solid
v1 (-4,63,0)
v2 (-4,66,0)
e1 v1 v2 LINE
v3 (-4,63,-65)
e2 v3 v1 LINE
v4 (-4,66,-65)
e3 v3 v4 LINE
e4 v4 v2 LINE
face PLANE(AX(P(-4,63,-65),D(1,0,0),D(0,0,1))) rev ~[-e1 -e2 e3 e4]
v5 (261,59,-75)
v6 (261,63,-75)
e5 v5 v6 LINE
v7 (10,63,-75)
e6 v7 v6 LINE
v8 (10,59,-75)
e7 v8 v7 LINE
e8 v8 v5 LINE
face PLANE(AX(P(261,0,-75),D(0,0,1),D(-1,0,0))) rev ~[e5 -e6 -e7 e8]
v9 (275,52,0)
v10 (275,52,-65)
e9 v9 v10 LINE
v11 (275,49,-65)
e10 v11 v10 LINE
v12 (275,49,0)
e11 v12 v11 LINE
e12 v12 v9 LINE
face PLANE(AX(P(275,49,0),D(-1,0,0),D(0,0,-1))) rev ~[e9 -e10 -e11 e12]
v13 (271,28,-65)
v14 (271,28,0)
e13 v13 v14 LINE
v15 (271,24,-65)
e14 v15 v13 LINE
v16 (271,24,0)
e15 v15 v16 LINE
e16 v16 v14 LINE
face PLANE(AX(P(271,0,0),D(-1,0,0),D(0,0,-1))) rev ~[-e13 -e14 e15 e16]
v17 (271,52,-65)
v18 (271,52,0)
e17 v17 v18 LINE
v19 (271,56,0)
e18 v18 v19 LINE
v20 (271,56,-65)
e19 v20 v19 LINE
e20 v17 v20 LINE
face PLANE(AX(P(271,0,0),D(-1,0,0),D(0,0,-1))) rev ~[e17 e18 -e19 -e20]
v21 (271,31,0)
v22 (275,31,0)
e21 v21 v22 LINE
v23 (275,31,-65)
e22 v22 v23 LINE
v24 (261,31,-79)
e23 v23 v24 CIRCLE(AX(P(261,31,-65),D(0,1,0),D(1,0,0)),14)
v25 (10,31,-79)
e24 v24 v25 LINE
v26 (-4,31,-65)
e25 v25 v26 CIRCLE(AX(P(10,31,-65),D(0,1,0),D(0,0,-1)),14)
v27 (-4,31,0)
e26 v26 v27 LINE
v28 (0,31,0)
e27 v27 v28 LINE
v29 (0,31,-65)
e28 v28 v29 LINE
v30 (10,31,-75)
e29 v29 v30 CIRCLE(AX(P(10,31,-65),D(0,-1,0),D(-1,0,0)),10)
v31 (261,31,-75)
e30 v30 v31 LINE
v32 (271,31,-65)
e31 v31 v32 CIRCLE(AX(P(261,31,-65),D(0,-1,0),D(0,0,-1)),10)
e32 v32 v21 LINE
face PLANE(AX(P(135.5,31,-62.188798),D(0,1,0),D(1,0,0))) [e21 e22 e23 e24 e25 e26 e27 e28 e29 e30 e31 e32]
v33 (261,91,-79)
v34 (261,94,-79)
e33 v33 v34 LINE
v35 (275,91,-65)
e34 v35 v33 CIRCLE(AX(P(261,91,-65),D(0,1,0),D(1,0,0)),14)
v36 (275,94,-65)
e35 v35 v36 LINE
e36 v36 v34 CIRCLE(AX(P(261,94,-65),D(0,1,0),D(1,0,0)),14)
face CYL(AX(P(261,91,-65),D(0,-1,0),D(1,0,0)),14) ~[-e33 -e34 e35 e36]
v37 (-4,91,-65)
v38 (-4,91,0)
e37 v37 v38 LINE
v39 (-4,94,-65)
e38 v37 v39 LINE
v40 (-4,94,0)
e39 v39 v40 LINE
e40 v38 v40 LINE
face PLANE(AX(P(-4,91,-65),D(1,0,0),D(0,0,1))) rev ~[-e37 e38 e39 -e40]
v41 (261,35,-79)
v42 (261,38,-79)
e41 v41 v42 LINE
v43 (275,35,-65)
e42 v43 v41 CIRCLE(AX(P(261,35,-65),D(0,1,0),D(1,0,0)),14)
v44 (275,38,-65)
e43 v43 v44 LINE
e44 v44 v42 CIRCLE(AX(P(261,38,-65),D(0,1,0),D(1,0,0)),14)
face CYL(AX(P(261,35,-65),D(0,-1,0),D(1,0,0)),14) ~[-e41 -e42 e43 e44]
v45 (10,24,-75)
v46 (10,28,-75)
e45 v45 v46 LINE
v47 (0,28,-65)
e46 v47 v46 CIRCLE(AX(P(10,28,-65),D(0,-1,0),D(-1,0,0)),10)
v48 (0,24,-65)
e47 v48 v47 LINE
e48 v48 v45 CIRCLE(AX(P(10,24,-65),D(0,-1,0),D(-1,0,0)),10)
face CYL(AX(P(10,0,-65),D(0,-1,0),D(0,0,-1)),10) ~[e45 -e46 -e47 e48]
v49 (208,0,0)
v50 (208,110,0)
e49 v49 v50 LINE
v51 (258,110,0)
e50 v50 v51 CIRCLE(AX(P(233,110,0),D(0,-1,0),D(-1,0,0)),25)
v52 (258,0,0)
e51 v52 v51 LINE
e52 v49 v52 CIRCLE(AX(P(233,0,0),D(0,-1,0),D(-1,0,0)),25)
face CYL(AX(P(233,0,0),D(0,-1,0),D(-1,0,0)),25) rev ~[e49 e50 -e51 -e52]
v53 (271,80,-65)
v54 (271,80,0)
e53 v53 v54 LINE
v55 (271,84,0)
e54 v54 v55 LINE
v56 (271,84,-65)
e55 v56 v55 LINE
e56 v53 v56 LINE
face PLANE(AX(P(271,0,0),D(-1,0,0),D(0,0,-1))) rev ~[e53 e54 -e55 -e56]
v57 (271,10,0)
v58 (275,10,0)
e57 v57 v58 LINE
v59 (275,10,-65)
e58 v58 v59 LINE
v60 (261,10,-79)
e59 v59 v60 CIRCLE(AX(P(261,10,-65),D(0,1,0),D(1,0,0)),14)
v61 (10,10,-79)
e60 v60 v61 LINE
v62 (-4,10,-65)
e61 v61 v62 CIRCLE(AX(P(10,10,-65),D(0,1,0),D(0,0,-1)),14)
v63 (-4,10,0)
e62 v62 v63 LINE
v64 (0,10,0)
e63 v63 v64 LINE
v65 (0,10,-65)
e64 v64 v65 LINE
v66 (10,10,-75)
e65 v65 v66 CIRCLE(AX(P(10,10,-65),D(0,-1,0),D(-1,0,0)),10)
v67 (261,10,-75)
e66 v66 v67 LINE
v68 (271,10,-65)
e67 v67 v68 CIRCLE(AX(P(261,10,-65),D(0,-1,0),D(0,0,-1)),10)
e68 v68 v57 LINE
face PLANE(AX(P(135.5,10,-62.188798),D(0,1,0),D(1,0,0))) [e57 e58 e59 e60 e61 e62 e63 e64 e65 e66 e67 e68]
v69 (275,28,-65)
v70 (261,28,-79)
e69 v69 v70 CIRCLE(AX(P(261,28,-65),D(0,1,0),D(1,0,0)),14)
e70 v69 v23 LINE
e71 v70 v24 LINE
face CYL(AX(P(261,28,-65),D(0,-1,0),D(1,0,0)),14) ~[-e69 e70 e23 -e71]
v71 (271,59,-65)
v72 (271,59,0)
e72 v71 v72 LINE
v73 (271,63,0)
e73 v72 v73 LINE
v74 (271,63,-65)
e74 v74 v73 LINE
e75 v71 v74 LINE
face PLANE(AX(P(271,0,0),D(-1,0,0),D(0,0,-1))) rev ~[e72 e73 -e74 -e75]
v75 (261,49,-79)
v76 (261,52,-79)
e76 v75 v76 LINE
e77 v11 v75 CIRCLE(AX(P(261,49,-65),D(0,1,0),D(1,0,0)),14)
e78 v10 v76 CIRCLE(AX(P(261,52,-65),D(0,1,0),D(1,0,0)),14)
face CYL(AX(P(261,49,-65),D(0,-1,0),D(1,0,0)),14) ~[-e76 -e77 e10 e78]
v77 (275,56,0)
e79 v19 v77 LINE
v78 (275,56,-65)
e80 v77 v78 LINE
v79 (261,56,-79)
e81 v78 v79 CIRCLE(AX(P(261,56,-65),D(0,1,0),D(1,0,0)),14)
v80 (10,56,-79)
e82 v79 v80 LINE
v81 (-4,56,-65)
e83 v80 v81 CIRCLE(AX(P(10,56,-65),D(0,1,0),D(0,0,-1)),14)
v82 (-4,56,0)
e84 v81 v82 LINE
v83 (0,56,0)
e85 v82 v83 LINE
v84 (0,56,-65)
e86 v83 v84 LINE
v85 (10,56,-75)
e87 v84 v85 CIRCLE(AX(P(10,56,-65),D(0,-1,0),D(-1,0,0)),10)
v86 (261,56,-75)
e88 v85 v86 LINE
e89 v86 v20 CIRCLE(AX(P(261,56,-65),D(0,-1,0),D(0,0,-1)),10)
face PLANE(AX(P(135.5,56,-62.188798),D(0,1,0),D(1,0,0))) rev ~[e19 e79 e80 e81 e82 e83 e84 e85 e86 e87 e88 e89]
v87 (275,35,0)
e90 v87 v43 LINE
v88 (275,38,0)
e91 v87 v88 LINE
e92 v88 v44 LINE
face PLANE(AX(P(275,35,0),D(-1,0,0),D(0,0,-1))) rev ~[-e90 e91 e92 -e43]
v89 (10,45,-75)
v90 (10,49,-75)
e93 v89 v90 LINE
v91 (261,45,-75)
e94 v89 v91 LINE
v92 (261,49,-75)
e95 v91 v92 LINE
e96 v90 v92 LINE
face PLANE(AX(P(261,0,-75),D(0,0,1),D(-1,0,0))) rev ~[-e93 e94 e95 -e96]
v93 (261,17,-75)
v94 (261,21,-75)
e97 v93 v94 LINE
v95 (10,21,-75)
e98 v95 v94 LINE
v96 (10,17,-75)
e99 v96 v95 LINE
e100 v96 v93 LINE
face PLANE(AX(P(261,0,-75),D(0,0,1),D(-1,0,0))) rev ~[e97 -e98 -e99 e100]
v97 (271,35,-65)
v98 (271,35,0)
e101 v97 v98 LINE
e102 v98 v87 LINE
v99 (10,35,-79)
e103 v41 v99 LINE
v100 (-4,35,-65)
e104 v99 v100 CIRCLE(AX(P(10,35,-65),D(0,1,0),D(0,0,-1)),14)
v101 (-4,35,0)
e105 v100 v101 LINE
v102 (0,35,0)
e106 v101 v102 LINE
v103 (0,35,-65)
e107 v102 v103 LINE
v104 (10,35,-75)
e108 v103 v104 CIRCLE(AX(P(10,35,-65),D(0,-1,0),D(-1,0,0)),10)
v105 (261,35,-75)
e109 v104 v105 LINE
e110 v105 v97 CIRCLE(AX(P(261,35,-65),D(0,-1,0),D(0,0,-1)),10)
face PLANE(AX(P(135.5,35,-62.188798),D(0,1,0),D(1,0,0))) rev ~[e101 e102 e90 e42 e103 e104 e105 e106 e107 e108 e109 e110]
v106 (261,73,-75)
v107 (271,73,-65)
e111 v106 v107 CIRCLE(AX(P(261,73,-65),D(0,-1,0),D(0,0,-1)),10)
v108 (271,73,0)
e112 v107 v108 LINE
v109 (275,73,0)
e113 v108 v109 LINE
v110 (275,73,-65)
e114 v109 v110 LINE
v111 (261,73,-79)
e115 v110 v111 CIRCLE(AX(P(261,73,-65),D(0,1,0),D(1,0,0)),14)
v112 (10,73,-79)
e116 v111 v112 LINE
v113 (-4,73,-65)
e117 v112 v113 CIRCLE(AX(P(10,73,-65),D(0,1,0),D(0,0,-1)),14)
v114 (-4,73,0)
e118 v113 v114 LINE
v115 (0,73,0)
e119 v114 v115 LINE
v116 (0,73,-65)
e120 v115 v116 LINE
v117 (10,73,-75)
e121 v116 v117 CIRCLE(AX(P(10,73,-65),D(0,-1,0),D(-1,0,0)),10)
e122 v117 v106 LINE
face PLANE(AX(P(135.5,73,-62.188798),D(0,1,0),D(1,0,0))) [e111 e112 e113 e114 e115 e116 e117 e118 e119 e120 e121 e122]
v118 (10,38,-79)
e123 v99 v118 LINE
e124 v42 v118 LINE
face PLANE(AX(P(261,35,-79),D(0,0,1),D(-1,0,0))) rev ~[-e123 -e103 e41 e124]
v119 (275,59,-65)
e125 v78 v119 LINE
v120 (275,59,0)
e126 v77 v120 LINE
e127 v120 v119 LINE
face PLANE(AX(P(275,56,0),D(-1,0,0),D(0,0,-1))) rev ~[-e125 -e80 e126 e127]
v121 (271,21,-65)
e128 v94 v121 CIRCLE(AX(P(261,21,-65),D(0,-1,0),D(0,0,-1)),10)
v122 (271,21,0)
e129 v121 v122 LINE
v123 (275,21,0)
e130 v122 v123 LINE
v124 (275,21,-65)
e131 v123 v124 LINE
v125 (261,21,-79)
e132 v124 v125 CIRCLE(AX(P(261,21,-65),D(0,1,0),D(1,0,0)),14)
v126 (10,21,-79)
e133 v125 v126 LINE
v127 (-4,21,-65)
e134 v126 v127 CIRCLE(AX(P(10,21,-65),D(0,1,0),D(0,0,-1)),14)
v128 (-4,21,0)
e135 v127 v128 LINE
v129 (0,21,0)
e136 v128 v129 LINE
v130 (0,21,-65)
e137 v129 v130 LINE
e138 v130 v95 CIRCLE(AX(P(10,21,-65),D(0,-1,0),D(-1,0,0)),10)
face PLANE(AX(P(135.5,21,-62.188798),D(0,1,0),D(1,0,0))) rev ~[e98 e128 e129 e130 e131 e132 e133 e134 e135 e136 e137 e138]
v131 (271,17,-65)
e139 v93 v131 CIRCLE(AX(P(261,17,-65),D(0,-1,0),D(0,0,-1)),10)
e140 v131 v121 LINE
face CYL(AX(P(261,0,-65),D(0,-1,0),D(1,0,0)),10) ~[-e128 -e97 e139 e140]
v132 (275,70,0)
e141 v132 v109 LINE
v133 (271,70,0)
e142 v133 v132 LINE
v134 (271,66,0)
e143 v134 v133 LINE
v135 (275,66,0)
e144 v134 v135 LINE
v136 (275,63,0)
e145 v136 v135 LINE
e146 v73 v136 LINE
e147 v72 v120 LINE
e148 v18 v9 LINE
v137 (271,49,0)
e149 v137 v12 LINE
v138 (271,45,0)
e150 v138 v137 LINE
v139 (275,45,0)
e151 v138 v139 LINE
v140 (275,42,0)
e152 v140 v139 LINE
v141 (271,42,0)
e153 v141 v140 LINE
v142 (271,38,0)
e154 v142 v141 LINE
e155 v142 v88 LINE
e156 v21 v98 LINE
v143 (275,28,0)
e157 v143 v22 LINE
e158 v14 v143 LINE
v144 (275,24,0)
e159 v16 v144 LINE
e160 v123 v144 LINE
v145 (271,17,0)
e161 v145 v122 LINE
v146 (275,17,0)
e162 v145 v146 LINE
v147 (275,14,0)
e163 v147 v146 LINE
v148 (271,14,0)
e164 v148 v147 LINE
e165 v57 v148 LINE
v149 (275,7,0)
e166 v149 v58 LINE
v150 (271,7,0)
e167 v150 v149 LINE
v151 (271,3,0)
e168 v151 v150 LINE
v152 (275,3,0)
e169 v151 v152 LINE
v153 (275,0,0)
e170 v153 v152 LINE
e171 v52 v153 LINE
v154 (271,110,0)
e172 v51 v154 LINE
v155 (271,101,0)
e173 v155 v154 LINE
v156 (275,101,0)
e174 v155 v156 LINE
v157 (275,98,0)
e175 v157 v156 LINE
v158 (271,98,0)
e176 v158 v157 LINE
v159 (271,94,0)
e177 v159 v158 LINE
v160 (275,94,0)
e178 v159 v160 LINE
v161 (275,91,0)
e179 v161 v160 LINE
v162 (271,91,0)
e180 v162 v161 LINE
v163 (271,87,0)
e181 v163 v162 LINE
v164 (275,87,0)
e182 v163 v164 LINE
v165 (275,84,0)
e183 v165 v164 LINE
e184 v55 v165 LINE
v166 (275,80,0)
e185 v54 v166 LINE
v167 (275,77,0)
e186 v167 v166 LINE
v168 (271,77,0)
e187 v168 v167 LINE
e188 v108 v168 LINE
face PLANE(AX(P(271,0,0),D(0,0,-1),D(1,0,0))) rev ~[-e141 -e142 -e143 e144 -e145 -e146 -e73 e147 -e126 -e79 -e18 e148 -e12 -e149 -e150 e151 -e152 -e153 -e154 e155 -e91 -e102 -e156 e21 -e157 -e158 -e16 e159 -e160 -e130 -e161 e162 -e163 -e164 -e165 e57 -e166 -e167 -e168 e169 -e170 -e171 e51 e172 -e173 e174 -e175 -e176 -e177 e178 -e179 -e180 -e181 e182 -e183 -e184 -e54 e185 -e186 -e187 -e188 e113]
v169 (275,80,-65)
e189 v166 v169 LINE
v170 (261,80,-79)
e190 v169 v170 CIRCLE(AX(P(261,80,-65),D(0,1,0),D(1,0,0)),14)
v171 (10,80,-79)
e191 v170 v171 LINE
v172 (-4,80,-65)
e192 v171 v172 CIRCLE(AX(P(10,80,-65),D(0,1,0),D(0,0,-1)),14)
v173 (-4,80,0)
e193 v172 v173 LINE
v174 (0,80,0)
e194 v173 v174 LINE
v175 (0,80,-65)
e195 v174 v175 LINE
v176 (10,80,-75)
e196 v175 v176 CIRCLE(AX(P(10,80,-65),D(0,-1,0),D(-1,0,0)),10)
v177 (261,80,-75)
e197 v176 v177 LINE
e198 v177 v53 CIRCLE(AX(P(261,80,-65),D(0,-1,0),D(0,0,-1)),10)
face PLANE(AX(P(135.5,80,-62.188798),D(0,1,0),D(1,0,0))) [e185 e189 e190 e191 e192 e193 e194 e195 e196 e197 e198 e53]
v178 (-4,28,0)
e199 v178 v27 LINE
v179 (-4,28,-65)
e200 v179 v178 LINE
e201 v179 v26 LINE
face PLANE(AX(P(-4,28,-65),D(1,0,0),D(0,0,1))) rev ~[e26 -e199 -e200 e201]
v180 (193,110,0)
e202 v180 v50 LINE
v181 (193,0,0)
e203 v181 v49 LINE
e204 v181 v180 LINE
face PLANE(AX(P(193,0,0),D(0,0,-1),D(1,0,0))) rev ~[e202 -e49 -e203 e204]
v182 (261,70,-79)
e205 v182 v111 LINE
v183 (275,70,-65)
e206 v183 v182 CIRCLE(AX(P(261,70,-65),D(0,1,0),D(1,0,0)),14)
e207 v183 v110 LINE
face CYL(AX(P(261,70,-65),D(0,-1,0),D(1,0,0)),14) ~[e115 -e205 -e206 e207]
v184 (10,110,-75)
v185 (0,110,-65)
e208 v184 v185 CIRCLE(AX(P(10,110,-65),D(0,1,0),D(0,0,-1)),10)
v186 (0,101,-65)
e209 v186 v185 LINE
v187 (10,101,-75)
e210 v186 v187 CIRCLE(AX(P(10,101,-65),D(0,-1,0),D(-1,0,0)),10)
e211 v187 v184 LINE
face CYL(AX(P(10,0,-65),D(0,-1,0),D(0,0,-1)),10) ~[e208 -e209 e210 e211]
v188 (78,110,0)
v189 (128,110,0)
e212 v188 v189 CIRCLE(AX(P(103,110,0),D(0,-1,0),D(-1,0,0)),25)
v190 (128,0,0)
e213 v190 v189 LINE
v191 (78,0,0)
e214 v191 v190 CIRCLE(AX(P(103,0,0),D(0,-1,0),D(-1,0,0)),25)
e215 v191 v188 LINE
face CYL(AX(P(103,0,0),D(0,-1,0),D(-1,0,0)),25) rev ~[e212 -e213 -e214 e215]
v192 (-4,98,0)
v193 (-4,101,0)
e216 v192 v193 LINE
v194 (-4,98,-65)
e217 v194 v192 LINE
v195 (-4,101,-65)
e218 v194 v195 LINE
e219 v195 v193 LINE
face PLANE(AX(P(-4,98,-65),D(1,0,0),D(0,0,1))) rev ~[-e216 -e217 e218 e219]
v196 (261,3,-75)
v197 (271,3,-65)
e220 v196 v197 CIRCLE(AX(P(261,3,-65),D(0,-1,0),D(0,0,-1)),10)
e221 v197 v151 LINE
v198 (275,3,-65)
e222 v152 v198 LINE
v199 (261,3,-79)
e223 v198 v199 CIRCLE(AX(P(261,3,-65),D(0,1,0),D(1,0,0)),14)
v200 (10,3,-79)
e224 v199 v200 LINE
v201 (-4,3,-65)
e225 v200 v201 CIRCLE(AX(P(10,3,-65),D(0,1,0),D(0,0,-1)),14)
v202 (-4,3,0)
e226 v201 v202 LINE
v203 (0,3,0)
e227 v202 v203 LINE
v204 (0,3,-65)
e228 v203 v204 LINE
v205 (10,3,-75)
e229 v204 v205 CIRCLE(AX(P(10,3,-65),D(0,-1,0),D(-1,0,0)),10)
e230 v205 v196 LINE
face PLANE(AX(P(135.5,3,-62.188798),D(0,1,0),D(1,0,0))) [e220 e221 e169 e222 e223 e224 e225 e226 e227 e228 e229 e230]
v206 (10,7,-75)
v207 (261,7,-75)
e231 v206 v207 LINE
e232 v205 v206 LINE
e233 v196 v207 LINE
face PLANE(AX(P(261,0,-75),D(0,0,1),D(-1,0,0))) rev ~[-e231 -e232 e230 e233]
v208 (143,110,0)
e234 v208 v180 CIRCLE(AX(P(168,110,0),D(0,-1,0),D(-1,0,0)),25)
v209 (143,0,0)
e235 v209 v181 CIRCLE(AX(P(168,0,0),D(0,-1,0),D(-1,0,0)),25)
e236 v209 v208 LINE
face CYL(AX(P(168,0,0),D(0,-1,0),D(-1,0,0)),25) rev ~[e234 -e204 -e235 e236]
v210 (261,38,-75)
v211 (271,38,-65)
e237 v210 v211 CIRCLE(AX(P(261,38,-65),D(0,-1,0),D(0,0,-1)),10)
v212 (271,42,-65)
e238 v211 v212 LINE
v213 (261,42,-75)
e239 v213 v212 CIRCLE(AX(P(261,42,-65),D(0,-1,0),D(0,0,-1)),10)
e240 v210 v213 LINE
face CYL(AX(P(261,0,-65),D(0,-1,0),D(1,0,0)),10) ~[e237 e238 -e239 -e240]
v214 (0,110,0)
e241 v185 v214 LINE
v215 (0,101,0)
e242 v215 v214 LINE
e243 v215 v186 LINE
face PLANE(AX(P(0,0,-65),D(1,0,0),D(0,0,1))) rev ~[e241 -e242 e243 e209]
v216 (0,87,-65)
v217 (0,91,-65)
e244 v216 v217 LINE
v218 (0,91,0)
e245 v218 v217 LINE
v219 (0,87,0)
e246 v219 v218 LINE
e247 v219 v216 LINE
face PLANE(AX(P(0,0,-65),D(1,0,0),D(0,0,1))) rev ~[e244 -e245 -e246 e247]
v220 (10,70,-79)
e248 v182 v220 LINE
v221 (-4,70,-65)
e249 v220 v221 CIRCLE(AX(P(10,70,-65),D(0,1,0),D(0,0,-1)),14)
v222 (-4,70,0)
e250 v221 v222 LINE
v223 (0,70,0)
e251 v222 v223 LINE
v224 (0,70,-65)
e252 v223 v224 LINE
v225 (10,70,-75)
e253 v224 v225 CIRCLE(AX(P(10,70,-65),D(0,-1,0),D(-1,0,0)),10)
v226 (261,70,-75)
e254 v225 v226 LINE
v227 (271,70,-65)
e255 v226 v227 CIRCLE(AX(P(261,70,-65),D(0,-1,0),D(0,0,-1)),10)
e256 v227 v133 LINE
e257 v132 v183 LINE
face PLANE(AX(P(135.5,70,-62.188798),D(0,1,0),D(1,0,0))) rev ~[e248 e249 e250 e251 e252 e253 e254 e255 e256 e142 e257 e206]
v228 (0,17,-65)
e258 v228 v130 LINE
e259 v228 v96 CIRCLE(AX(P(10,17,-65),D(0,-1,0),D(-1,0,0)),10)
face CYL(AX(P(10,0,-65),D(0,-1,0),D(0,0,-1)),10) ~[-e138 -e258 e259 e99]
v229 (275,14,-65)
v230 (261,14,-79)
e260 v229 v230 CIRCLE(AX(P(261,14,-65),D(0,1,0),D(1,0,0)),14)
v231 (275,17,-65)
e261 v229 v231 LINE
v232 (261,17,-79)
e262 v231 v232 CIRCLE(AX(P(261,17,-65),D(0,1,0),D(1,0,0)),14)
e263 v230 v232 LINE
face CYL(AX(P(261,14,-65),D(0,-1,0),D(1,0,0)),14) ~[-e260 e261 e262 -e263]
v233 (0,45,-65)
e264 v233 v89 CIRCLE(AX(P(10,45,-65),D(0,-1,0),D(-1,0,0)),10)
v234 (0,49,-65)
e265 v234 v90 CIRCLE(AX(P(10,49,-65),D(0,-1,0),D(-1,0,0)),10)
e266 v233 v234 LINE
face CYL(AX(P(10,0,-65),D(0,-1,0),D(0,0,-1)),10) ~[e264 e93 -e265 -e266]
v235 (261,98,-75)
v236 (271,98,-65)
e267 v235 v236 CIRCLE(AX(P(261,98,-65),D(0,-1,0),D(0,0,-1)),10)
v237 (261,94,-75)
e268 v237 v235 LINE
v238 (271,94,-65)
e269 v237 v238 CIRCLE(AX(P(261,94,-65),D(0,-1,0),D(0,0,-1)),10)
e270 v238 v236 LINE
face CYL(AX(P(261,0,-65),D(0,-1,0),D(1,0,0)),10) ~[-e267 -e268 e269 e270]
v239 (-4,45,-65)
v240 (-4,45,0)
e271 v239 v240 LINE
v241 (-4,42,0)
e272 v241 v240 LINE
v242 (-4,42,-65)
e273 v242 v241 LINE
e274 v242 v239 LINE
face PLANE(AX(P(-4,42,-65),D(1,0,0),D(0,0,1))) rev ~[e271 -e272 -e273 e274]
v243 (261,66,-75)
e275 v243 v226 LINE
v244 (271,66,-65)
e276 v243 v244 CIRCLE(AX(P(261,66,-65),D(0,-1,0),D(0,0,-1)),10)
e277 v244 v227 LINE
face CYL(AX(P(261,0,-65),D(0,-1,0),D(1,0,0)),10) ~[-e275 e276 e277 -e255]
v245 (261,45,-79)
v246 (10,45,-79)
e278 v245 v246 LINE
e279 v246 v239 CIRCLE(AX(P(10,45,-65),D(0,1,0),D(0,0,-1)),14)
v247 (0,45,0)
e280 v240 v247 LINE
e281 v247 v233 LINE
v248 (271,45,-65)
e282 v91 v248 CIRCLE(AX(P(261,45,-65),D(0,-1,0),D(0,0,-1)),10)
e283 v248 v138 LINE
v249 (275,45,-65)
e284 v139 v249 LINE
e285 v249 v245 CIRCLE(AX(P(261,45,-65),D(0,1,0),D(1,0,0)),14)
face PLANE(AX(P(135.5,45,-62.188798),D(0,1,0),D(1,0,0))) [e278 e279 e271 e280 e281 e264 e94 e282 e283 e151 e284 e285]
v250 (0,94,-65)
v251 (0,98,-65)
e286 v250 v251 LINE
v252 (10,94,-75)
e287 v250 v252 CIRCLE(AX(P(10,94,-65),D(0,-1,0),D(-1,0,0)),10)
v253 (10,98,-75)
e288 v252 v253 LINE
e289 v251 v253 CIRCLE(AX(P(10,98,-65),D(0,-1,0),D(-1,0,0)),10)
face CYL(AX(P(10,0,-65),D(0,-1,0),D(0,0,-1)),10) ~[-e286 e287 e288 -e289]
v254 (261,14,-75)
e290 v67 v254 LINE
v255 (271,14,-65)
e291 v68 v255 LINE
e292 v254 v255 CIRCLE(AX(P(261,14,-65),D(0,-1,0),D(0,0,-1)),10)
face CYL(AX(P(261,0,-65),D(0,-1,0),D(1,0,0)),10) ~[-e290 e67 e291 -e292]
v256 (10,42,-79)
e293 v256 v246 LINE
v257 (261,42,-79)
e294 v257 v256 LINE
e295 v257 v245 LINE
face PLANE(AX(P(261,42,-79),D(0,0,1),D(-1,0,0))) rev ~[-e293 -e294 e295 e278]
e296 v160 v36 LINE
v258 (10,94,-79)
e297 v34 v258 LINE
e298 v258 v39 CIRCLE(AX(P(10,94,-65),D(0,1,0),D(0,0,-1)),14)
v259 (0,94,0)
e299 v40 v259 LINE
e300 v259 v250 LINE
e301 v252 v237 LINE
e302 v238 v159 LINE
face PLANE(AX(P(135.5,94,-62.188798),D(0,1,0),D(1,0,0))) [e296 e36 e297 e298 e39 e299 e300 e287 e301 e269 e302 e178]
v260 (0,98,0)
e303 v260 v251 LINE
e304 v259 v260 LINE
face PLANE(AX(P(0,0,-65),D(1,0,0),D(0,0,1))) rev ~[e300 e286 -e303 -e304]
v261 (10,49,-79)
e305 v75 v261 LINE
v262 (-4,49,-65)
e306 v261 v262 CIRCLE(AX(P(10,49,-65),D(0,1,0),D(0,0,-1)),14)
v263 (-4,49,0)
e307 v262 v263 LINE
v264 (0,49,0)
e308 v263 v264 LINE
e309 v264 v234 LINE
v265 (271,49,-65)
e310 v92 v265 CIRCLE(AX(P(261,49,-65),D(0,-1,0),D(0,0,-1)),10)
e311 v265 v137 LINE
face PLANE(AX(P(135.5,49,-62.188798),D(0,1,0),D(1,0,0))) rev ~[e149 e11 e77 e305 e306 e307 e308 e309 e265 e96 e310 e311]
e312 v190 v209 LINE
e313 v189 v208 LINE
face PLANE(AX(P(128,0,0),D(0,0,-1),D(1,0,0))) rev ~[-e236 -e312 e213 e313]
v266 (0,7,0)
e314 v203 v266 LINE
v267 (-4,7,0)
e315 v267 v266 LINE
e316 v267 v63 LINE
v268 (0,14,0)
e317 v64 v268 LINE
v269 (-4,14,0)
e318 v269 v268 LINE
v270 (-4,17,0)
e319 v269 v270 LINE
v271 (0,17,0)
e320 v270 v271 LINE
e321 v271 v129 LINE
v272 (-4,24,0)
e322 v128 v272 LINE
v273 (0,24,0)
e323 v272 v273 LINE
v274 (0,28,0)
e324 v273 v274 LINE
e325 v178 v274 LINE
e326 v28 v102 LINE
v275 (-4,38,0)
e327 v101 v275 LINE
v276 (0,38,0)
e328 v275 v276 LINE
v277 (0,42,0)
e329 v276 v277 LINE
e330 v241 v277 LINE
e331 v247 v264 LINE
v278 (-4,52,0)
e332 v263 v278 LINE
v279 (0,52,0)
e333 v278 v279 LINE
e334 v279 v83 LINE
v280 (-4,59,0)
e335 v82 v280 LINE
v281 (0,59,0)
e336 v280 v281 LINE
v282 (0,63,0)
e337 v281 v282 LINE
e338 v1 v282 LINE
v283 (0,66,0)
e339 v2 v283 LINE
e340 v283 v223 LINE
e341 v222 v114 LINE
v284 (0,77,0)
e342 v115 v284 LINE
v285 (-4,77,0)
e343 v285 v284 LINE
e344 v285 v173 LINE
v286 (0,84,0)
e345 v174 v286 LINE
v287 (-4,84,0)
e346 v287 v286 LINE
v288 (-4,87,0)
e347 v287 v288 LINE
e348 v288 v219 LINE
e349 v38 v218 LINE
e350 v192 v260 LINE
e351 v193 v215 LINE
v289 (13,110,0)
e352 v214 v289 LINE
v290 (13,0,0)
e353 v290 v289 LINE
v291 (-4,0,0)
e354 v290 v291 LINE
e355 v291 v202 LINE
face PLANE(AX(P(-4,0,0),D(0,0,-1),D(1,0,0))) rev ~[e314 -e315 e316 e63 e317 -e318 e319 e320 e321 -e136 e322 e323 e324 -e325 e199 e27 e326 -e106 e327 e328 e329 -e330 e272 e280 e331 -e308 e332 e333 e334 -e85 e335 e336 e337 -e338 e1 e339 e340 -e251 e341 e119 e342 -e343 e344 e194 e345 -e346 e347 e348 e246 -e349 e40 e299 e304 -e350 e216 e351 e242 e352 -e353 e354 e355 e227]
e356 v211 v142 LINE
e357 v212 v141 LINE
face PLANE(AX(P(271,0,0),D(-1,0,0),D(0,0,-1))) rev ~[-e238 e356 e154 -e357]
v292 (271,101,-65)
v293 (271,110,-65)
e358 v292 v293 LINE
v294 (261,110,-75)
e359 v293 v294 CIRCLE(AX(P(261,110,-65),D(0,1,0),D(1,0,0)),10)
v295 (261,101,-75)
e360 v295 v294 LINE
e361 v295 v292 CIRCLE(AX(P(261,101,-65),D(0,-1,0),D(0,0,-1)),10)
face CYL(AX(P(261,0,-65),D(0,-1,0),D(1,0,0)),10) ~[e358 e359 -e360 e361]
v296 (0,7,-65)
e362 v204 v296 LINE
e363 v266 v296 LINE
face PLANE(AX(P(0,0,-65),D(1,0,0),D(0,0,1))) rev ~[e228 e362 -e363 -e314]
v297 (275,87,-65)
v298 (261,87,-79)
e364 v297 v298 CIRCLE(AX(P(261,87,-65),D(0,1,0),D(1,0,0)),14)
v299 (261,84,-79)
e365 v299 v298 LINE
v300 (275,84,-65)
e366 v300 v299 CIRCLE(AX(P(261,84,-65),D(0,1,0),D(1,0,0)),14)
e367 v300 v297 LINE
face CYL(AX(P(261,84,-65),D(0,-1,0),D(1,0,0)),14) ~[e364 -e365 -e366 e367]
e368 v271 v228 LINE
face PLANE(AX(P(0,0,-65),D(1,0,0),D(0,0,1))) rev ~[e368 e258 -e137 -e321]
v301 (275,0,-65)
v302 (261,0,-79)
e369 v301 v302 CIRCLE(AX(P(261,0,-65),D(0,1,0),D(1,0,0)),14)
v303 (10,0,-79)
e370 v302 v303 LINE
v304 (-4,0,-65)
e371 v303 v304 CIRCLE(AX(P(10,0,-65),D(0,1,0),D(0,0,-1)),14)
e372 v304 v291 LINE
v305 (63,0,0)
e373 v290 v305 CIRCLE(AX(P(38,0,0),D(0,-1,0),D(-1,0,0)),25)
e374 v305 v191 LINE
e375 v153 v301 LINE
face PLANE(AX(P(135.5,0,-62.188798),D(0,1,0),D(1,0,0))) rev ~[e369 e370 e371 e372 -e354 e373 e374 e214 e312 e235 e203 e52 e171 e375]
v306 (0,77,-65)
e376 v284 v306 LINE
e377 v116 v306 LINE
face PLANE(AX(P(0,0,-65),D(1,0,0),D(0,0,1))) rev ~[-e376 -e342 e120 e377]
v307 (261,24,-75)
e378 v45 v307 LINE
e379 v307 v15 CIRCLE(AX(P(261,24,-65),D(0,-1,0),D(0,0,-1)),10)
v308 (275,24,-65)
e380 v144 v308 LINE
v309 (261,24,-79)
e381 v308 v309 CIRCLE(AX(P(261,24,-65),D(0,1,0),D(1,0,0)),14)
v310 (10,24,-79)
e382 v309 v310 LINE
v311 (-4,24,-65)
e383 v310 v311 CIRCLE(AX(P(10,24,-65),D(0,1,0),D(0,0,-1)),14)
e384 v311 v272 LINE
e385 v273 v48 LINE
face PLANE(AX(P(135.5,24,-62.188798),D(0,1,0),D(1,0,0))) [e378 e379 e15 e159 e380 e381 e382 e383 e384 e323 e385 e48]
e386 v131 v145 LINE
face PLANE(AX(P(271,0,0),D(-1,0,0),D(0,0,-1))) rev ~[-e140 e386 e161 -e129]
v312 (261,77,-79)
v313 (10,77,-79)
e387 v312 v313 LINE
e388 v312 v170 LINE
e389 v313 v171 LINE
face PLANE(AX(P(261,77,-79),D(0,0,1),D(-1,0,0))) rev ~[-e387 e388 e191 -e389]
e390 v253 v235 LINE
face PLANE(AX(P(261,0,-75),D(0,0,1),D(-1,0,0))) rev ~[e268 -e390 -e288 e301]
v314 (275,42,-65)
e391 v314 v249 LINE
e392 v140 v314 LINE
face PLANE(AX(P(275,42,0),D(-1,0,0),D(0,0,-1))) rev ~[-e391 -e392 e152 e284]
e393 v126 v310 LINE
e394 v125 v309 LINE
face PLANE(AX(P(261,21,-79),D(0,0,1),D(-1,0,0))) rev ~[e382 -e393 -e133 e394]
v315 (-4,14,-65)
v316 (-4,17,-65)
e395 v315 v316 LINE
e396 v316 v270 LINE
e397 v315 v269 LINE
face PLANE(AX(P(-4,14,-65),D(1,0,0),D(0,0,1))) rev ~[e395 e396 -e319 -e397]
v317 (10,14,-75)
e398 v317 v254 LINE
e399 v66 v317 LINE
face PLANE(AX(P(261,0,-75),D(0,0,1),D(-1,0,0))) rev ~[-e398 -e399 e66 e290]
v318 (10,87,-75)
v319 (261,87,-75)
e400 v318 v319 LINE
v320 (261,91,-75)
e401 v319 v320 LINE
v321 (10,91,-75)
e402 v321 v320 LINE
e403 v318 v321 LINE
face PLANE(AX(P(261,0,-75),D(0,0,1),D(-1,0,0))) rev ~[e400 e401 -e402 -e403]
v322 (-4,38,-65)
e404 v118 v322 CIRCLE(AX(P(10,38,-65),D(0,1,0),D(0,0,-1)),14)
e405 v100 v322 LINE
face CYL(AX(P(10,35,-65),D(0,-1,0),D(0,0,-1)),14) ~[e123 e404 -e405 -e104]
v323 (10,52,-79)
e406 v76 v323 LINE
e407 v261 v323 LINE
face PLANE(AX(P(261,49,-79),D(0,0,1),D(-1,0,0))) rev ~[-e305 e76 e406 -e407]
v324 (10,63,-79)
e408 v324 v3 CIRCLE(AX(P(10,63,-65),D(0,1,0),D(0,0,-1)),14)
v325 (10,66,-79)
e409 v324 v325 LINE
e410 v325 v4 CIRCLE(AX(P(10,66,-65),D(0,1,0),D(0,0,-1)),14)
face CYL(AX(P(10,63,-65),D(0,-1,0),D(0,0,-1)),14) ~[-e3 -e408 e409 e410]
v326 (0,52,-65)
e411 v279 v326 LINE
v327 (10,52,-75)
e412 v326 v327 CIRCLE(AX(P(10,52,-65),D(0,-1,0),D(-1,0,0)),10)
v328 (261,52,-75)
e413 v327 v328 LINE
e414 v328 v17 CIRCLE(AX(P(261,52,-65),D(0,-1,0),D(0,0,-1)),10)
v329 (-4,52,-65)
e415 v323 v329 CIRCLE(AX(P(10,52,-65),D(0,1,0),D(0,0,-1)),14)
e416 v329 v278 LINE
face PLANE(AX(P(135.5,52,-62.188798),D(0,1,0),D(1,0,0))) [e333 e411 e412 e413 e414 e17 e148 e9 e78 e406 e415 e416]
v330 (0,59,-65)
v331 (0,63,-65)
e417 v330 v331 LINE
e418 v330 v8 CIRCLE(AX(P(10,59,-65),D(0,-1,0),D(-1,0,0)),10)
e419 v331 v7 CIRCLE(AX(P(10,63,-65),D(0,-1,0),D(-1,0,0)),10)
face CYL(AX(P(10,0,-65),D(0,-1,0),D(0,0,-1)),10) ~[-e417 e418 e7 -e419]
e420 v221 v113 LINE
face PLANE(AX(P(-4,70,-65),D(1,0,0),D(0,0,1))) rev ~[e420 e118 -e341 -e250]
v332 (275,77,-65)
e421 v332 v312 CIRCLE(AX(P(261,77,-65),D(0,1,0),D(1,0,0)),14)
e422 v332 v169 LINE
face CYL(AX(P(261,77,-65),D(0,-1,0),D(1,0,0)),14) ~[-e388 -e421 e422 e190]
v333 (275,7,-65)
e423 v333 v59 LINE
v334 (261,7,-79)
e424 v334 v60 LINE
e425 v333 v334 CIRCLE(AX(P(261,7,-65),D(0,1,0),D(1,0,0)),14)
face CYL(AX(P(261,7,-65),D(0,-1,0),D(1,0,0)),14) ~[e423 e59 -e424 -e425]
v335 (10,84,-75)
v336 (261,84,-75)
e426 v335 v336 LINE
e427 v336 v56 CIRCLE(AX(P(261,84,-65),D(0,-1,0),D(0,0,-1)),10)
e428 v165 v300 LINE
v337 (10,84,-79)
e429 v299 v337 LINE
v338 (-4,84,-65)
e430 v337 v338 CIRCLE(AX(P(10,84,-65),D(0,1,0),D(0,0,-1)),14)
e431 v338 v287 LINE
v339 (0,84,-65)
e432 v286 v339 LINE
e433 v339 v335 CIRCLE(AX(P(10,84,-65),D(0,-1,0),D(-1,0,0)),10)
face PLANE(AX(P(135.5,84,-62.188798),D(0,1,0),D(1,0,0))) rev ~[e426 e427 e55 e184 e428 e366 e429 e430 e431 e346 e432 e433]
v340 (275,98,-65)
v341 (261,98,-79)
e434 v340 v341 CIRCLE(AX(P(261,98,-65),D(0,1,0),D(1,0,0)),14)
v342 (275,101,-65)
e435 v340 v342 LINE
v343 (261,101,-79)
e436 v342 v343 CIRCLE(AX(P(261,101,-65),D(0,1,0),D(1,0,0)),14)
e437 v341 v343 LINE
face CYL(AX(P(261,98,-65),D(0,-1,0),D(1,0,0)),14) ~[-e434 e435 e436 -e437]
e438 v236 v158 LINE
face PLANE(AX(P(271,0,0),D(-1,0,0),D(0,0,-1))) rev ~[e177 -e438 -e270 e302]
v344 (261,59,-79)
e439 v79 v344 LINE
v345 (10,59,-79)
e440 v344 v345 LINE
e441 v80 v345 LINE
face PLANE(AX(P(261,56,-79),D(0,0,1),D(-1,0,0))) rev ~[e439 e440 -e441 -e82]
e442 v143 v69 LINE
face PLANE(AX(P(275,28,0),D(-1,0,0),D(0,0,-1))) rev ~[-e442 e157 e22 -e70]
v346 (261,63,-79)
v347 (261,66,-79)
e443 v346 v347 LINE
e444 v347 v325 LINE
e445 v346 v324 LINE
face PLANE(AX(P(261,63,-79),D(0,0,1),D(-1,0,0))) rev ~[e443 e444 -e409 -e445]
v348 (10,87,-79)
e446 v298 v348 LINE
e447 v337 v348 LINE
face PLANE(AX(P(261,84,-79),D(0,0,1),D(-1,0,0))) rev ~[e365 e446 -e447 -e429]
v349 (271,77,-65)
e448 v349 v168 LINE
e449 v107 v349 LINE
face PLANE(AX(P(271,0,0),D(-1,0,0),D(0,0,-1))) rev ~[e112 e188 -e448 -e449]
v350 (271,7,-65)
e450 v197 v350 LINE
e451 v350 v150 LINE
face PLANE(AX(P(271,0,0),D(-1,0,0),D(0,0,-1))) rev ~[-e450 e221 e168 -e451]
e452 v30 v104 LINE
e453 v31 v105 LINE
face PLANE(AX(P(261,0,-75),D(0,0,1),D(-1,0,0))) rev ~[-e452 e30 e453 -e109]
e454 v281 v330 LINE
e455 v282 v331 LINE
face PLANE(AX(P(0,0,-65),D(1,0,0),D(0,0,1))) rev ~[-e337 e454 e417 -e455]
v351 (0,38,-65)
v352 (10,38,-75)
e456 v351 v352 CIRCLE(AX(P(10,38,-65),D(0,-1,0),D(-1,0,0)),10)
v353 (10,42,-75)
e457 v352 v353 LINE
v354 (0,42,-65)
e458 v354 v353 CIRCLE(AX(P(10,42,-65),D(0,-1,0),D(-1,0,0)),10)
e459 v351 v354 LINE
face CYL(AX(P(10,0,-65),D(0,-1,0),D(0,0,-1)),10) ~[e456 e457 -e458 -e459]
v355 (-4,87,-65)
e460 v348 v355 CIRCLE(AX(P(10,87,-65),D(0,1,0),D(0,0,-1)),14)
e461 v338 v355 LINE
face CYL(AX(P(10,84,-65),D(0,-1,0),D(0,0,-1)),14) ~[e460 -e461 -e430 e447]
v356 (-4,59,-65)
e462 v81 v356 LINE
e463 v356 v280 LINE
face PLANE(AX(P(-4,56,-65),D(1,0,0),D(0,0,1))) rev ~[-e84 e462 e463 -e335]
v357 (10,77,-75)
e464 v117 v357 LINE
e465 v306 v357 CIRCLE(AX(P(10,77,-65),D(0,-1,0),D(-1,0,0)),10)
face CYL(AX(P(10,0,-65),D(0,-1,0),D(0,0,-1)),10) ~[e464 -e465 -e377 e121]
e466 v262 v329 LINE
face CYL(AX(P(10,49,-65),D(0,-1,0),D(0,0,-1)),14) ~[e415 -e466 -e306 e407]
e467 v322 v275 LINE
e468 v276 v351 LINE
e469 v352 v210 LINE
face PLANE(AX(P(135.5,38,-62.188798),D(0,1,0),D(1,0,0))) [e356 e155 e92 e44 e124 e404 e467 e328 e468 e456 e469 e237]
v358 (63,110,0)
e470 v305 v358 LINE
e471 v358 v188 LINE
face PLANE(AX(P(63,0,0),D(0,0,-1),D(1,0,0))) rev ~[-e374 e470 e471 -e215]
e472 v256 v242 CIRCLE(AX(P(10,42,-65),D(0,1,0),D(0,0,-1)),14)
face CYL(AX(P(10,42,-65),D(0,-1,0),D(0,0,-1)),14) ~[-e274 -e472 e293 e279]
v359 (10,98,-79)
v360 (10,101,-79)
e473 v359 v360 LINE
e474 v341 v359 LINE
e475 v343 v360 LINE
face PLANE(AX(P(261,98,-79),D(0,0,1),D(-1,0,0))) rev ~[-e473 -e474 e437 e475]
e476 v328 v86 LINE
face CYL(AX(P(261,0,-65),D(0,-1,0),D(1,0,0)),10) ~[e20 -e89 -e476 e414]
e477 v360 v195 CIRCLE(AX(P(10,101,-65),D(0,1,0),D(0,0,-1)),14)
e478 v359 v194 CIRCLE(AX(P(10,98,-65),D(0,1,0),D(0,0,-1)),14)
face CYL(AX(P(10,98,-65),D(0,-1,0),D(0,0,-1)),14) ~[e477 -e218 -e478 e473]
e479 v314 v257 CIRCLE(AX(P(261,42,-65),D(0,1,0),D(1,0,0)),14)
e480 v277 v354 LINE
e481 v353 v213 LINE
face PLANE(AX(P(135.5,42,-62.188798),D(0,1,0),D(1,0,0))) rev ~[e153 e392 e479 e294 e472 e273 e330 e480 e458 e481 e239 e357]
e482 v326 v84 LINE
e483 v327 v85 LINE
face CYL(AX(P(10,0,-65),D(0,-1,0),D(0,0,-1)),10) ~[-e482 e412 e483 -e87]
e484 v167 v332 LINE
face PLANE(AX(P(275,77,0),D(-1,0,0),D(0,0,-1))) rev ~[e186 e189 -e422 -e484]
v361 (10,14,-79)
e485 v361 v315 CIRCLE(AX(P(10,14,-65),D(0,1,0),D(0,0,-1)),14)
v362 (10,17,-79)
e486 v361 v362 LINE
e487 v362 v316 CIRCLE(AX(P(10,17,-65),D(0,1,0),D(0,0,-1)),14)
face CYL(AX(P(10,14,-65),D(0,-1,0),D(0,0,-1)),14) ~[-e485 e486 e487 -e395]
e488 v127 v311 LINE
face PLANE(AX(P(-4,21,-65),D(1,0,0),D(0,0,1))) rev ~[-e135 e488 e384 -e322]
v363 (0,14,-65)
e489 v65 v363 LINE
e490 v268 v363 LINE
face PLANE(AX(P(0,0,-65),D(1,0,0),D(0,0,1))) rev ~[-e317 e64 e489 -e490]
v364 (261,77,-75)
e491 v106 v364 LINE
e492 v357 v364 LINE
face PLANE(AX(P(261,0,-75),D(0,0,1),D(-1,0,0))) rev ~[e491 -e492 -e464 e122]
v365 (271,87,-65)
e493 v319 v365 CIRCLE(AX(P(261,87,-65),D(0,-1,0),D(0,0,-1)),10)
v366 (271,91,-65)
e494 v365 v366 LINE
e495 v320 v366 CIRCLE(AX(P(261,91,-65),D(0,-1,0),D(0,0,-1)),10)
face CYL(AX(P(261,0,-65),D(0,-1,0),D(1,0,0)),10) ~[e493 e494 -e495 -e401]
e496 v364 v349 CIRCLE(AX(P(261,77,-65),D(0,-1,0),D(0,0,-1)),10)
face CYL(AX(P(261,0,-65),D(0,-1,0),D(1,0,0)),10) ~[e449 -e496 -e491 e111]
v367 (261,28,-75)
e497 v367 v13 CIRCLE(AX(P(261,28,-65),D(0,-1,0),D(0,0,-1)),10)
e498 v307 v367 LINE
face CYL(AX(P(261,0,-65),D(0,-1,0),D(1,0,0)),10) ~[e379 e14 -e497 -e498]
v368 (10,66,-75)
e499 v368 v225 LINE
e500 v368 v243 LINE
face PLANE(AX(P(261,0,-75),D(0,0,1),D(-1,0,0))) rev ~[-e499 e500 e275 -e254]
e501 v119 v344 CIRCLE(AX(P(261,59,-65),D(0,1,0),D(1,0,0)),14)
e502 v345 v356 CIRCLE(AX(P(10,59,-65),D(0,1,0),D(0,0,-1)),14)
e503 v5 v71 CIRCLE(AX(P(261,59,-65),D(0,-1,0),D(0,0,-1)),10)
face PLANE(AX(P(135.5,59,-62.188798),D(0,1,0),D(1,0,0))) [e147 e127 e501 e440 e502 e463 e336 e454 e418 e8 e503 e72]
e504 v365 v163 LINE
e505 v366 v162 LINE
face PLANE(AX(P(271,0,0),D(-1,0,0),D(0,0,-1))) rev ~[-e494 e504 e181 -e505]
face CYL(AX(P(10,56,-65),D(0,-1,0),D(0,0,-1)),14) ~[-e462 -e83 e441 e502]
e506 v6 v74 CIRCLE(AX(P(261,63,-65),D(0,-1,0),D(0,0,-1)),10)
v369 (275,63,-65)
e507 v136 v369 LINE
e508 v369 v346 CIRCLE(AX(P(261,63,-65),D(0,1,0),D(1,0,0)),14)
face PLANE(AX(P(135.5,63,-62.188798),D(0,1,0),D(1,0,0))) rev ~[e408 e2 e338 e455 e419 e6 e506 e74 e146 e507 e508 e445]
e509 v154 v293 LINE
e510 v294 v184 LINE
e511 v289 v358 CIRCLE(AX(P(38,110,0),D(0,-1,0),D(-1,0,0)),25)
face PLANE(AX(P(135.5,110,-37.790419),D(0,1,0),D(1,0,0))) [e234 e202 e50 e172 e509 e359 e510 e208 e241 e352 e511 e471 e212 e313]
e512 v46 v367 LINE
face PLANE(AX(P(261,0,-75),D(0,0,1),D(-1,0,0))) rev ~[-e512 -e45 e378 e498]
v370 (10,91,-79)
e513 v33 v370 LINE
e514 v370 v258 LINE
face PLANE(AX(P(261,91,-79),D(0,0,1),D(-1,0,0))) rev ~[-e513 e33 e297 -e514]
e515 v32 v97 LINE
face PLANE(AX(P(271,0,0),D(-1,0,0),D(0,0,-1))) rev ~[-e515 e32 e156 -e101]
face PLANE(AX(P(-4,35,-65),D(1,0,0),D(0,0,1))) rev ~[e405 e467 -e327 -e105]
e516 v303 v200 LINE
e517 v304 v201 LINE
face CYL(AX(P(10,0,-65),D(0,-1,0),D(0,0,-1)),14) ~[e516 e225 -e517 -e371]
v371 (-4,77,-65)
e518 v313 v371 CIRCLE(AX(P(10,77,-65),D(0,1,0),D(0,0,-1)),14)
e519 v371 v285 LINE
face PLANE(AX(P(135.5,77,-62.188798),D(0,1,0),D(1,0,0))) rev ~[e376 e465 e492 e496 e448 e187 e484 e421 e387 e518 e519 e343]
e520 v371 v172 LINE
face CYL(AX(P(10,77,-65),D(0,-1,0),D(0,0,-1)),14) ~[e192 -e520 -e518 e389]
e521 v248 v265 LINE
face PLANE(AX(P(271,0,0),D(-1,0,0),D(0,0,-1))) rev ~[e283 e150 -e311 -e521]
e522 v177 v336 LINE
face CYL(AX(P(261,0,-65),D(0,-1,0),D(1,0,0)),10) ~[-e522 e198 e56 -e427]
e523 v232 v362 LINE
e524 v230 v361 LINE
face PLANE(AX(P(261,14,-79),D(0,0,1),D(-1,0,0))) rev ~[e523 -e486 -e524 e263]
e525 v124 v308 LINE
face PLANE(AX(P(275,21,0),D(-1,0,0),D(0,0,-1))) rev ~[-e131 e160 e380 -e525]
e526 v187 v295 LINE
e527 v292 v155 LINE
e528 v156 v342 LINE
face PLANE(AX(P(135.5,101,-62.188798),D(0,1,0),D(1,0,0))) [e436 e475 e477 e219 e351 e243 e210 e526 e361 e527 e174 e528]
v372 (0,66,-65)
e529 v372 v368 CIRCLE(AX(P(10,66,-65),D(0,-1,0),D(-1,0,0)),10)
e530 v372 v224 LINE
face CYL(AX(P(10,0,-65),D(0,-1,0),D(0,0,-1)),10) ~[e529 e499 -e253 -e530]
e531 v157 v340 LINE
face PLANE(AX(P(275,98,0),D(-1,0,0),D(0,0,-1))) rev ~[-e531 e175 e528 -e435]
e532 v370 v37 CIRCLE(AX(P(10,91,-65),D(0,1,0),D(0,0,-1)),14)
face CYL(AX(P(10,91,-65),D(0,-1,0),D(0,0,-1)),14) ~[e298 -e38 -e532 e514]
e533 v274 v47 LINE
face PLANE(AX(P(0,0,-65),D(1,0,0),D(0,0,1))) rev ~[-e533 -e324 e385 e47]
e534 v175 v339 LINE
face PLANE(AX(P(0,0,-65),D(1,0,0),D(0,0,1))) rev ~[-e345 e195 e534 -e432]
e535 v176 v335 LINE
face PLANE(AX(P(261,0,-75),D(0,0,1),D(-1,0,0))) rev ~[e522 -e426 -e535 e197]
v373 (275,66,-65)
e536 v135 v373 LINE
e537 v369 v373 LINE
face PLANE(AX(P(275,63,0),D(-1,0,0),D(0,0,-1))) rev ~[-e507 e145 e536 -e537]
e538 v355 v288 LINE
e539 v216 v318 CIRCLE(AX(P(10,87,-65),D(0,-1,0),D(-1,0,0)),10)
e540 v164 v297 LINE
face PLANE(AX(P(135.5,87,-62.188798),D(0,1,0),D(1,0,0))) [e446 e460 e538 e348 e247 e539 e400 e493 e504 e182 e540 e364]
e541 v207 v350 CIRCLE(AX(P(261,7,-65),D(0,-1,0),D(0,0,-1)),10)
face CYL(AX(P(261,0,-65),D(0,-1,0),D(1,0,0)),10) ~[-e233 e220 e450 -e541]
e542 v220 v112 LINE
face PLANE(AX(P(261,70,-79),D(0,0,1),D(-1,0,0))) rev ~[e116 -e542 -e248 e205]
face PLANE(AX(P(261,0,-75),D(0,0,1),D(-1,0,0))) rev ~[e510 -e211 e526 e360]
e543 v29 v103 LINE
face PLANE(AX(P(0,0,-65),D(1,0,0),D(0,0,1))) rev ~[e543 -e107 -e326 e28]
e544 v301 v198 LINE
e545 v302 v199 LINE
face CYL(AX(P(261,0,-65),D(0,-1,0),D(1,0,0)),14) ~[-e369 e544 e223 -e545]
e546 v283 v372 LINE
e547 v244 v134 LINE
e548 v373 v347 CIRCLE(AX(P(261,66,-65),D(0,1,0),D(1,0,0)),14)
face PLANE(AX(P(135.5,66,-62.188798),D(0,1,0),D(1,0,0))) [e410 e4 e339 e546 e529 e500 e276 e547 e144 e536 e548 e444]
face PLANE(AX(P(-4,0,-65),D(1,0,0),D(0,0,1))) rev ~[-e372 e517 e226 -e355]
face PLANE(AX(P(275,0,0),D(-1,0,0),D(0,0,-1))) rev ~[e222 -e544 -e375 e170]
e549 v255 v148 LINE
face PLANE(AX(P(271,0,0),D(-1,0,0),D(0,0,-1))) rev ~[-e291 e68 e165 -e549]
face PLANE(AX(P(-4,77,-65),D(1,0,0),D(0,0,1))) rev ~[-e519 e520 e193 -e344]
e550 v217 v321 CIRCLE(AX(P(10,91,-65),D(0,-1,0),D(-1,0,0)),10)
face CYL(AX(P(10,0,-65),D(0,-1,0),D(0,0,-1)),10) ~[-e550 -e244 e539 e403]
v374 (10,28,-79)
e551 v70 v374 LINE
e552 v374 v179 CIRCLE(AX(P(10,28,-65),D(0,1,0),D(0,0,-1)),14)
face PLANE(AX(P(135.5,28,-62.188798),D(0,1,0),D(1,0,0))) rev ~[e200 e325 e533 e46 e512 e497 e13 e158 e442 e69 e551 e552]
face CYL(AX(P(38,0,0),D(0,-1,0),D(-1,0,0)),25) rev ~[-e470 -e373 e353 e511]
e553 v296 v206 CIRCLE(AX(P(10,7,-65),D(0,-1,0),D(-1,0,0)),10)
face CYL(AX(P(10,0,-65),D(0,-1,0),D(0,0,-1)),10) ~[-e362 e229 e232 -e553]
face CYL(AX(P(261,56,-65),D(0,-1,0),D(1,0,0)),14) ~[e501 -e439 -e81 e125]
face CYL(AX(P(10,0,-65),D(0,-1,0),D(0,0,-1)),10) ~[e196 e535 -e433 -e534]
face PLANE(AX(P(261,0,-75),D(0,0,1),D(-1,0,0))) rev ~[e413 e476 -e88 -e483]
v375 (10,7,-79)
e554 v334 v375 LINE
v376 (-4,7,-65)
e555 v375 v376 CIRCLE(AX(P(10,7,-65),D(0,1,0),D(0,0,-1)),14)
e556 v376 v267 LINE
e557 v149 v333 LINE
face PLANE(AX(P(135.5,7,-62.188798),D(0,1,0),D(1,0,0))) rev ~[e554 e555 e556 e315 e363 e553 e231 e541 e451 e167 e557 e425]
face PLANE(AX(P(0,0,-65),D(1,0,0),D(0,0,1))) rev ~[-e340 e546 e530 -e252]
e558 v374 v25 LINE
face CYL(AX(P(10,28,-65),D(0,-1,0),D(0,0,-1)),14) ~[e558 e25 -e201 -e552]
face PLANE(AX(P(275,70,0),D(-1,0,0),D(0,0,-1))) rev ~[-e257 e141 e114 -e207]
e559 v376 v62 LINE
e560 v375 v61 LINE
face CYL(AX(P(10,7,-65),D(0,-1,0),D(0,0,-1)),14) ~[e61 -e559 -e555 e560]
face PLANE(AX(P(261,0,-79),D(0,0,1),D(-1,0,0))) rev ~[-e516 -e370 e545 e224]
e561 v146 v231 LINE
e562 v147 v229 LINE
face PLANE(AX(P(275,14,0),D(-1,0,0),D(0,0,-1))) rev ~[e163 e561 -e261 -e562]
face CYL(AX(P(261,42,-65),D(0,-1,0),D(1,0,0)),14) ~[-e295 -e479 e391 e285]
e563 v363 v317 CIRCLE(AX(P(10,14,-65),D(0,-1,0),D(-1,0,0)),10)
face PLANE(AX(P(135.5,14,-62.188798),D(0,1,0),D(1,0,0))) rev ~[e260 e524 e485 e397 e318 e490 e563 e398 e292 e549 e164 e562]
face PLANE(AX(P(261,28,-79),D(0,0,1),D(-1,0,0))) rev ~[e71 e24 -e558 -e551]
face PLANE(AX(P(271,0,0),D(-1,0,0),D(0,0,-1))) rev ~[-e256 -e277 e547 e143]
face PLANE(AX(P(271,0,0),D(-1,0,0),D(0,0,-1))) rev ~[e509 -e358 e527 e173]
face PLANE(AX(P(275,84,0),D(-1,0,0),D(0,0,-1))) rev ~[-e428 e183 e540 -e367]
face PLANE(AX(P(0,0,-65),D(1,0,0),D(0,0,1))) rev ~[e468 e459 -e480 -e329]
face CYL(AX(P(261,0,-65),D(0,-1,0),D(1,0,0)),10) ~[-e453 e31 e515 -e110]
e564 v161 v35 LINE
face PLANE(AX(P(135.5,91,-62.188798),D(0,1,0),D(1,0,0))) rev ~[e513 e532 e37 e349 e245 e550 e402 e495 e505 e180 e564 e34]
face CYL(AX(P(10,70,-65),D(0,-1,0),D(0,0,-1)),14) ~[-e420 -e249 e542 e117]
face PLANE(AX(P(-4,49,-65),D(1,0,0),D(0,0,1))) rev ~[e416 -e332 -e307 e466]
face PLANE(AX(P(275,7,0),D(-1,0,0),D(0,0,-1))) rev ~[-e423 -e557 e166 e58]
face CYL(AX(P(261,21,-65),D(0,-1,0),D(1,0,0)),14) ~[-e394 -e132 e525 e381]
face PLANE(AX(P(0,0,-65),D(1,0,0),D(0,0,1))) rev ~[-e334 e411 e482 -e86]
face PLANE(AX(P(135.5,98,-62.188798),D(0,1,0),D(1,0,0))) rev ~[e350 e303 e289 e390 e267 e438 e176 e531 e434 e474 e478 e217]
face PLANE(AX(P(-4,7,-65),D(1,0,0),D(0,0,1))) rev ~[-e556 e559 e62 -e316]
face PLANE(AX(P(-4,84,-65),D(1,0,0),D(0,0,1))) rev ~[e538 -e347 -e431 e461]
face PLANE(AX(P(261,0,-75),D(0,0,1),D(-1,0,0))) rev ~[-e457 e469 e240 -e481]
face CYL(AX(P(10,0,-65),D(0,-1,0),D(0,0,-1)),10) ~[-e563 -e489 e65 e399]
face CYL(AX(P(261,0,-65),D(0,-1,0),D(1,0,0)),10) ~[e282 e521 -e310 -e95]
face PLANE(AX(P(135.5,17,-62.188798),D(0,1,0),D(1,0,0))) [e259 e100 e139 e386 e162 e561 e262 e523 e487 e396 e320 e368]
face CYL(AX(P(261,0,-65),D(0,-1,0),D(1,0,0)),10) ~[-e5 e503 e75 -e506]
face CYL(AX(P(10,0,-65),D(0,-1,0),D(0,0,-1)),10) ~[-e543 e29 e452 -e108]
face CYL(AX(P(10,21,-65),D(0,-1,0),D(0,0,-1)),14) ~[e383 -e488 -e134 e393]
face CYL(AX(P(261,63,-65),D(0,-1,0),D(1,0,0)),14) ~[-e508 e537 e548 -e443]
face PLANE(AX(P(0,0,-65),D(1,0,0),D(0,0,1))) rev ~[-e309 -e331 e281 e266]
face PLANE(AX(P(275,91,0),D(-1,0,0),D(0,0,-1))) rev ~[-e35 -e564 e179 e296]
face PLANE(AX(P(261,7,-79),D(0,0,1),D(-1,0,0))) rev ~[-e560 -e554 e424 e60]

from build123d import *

# Parameters (mm, degrees)
BOSS_EXTRUDE1_DEPTH = 110
BOSS_EXTRUDE2_DEPTH = 3
LPATTERN1_COUNT     = 15
LPATTERN1_PITCH     = 7


with BuildPart() as part:
    # Sketch1 → Boss-Extrude1 (new body)
    with BuildSketch(Plane(origin=(0, 0, 0), x_dir=(1, 0, 0), z_dir=(0, 1, 0))):
        with BuildLine():
            Line((0, 0), (13, 0))
            ThreePointArc((13, 0), (38, 25), (63, 0))
            Line((63, 0), (78, 0))
            ThreePointArc((78, 0), (103, 25), (128, 0))
            Line((128, 0), (143, 0))
            ThreePointArc((143, 0), (168, 25), (193, 0))
            Line((193, 0), (208, 0))
            ThreePointArc((208, 0), (233, 25), (258, 0))
            Line((258, 0), (271, 0))
            Line((271, 0), (271, 65))
            ThreePointArc((271, 65), (268.071067812, 72.071067812), (261, 75))
            Line((261, 75), (10, 75))
            ThreePointArc((10, 75), (2.928932188, 72.071067812), (0, 65))
            Line((0, 65), (0, 0))
        make_face()
    extrude(amount=BOSS_EXTRUDE1_DEPTH)

    # Sketch2 → Boss-Extrude2 (add)
    with BuildSketch(Plane(origin=(0, 0, 0), x_dir=(1, 0, 0), z_dir=(0, 1, 0))):
        with BuildLine():
            Line((275, 0), (275, 65))
            ThreePointArc((275, 65), (270.899494937, 74.899494937), (261, 79))
            Line((261, 79), (10, 79))
            ThreePointArc((10, 79), (0.100505063, 74.899494937), (-4, 65))
            Line((-4, 65), (-4, 0))
            Line((-4, 0), (0, 0))
            Line((0, 0), (0, 65))
            ThreePointArc((0, 65), (2.928932188, 72.071067812), (10, 75))
            Line((10, 75), (261, 75))
            ThreePointArc((261, 75), (268.071067812, 72.071067812), (271, 65))
            Line((271, 65), (271, 0))
            Line((271, 0), (275, 0))
        make_face()
    boss_extrude2 = extrude(amount=BOSS_EXTRUDE2_DEPTH)

    # LPattern1: Boss-Extrude2 ×15
    with Locations(*[(0, i * LPATTERN1_PITCH, 0) for i in range(1, LPATTERN1_COUNT)]):
        add(boss_extrude2)


solid = part.part
